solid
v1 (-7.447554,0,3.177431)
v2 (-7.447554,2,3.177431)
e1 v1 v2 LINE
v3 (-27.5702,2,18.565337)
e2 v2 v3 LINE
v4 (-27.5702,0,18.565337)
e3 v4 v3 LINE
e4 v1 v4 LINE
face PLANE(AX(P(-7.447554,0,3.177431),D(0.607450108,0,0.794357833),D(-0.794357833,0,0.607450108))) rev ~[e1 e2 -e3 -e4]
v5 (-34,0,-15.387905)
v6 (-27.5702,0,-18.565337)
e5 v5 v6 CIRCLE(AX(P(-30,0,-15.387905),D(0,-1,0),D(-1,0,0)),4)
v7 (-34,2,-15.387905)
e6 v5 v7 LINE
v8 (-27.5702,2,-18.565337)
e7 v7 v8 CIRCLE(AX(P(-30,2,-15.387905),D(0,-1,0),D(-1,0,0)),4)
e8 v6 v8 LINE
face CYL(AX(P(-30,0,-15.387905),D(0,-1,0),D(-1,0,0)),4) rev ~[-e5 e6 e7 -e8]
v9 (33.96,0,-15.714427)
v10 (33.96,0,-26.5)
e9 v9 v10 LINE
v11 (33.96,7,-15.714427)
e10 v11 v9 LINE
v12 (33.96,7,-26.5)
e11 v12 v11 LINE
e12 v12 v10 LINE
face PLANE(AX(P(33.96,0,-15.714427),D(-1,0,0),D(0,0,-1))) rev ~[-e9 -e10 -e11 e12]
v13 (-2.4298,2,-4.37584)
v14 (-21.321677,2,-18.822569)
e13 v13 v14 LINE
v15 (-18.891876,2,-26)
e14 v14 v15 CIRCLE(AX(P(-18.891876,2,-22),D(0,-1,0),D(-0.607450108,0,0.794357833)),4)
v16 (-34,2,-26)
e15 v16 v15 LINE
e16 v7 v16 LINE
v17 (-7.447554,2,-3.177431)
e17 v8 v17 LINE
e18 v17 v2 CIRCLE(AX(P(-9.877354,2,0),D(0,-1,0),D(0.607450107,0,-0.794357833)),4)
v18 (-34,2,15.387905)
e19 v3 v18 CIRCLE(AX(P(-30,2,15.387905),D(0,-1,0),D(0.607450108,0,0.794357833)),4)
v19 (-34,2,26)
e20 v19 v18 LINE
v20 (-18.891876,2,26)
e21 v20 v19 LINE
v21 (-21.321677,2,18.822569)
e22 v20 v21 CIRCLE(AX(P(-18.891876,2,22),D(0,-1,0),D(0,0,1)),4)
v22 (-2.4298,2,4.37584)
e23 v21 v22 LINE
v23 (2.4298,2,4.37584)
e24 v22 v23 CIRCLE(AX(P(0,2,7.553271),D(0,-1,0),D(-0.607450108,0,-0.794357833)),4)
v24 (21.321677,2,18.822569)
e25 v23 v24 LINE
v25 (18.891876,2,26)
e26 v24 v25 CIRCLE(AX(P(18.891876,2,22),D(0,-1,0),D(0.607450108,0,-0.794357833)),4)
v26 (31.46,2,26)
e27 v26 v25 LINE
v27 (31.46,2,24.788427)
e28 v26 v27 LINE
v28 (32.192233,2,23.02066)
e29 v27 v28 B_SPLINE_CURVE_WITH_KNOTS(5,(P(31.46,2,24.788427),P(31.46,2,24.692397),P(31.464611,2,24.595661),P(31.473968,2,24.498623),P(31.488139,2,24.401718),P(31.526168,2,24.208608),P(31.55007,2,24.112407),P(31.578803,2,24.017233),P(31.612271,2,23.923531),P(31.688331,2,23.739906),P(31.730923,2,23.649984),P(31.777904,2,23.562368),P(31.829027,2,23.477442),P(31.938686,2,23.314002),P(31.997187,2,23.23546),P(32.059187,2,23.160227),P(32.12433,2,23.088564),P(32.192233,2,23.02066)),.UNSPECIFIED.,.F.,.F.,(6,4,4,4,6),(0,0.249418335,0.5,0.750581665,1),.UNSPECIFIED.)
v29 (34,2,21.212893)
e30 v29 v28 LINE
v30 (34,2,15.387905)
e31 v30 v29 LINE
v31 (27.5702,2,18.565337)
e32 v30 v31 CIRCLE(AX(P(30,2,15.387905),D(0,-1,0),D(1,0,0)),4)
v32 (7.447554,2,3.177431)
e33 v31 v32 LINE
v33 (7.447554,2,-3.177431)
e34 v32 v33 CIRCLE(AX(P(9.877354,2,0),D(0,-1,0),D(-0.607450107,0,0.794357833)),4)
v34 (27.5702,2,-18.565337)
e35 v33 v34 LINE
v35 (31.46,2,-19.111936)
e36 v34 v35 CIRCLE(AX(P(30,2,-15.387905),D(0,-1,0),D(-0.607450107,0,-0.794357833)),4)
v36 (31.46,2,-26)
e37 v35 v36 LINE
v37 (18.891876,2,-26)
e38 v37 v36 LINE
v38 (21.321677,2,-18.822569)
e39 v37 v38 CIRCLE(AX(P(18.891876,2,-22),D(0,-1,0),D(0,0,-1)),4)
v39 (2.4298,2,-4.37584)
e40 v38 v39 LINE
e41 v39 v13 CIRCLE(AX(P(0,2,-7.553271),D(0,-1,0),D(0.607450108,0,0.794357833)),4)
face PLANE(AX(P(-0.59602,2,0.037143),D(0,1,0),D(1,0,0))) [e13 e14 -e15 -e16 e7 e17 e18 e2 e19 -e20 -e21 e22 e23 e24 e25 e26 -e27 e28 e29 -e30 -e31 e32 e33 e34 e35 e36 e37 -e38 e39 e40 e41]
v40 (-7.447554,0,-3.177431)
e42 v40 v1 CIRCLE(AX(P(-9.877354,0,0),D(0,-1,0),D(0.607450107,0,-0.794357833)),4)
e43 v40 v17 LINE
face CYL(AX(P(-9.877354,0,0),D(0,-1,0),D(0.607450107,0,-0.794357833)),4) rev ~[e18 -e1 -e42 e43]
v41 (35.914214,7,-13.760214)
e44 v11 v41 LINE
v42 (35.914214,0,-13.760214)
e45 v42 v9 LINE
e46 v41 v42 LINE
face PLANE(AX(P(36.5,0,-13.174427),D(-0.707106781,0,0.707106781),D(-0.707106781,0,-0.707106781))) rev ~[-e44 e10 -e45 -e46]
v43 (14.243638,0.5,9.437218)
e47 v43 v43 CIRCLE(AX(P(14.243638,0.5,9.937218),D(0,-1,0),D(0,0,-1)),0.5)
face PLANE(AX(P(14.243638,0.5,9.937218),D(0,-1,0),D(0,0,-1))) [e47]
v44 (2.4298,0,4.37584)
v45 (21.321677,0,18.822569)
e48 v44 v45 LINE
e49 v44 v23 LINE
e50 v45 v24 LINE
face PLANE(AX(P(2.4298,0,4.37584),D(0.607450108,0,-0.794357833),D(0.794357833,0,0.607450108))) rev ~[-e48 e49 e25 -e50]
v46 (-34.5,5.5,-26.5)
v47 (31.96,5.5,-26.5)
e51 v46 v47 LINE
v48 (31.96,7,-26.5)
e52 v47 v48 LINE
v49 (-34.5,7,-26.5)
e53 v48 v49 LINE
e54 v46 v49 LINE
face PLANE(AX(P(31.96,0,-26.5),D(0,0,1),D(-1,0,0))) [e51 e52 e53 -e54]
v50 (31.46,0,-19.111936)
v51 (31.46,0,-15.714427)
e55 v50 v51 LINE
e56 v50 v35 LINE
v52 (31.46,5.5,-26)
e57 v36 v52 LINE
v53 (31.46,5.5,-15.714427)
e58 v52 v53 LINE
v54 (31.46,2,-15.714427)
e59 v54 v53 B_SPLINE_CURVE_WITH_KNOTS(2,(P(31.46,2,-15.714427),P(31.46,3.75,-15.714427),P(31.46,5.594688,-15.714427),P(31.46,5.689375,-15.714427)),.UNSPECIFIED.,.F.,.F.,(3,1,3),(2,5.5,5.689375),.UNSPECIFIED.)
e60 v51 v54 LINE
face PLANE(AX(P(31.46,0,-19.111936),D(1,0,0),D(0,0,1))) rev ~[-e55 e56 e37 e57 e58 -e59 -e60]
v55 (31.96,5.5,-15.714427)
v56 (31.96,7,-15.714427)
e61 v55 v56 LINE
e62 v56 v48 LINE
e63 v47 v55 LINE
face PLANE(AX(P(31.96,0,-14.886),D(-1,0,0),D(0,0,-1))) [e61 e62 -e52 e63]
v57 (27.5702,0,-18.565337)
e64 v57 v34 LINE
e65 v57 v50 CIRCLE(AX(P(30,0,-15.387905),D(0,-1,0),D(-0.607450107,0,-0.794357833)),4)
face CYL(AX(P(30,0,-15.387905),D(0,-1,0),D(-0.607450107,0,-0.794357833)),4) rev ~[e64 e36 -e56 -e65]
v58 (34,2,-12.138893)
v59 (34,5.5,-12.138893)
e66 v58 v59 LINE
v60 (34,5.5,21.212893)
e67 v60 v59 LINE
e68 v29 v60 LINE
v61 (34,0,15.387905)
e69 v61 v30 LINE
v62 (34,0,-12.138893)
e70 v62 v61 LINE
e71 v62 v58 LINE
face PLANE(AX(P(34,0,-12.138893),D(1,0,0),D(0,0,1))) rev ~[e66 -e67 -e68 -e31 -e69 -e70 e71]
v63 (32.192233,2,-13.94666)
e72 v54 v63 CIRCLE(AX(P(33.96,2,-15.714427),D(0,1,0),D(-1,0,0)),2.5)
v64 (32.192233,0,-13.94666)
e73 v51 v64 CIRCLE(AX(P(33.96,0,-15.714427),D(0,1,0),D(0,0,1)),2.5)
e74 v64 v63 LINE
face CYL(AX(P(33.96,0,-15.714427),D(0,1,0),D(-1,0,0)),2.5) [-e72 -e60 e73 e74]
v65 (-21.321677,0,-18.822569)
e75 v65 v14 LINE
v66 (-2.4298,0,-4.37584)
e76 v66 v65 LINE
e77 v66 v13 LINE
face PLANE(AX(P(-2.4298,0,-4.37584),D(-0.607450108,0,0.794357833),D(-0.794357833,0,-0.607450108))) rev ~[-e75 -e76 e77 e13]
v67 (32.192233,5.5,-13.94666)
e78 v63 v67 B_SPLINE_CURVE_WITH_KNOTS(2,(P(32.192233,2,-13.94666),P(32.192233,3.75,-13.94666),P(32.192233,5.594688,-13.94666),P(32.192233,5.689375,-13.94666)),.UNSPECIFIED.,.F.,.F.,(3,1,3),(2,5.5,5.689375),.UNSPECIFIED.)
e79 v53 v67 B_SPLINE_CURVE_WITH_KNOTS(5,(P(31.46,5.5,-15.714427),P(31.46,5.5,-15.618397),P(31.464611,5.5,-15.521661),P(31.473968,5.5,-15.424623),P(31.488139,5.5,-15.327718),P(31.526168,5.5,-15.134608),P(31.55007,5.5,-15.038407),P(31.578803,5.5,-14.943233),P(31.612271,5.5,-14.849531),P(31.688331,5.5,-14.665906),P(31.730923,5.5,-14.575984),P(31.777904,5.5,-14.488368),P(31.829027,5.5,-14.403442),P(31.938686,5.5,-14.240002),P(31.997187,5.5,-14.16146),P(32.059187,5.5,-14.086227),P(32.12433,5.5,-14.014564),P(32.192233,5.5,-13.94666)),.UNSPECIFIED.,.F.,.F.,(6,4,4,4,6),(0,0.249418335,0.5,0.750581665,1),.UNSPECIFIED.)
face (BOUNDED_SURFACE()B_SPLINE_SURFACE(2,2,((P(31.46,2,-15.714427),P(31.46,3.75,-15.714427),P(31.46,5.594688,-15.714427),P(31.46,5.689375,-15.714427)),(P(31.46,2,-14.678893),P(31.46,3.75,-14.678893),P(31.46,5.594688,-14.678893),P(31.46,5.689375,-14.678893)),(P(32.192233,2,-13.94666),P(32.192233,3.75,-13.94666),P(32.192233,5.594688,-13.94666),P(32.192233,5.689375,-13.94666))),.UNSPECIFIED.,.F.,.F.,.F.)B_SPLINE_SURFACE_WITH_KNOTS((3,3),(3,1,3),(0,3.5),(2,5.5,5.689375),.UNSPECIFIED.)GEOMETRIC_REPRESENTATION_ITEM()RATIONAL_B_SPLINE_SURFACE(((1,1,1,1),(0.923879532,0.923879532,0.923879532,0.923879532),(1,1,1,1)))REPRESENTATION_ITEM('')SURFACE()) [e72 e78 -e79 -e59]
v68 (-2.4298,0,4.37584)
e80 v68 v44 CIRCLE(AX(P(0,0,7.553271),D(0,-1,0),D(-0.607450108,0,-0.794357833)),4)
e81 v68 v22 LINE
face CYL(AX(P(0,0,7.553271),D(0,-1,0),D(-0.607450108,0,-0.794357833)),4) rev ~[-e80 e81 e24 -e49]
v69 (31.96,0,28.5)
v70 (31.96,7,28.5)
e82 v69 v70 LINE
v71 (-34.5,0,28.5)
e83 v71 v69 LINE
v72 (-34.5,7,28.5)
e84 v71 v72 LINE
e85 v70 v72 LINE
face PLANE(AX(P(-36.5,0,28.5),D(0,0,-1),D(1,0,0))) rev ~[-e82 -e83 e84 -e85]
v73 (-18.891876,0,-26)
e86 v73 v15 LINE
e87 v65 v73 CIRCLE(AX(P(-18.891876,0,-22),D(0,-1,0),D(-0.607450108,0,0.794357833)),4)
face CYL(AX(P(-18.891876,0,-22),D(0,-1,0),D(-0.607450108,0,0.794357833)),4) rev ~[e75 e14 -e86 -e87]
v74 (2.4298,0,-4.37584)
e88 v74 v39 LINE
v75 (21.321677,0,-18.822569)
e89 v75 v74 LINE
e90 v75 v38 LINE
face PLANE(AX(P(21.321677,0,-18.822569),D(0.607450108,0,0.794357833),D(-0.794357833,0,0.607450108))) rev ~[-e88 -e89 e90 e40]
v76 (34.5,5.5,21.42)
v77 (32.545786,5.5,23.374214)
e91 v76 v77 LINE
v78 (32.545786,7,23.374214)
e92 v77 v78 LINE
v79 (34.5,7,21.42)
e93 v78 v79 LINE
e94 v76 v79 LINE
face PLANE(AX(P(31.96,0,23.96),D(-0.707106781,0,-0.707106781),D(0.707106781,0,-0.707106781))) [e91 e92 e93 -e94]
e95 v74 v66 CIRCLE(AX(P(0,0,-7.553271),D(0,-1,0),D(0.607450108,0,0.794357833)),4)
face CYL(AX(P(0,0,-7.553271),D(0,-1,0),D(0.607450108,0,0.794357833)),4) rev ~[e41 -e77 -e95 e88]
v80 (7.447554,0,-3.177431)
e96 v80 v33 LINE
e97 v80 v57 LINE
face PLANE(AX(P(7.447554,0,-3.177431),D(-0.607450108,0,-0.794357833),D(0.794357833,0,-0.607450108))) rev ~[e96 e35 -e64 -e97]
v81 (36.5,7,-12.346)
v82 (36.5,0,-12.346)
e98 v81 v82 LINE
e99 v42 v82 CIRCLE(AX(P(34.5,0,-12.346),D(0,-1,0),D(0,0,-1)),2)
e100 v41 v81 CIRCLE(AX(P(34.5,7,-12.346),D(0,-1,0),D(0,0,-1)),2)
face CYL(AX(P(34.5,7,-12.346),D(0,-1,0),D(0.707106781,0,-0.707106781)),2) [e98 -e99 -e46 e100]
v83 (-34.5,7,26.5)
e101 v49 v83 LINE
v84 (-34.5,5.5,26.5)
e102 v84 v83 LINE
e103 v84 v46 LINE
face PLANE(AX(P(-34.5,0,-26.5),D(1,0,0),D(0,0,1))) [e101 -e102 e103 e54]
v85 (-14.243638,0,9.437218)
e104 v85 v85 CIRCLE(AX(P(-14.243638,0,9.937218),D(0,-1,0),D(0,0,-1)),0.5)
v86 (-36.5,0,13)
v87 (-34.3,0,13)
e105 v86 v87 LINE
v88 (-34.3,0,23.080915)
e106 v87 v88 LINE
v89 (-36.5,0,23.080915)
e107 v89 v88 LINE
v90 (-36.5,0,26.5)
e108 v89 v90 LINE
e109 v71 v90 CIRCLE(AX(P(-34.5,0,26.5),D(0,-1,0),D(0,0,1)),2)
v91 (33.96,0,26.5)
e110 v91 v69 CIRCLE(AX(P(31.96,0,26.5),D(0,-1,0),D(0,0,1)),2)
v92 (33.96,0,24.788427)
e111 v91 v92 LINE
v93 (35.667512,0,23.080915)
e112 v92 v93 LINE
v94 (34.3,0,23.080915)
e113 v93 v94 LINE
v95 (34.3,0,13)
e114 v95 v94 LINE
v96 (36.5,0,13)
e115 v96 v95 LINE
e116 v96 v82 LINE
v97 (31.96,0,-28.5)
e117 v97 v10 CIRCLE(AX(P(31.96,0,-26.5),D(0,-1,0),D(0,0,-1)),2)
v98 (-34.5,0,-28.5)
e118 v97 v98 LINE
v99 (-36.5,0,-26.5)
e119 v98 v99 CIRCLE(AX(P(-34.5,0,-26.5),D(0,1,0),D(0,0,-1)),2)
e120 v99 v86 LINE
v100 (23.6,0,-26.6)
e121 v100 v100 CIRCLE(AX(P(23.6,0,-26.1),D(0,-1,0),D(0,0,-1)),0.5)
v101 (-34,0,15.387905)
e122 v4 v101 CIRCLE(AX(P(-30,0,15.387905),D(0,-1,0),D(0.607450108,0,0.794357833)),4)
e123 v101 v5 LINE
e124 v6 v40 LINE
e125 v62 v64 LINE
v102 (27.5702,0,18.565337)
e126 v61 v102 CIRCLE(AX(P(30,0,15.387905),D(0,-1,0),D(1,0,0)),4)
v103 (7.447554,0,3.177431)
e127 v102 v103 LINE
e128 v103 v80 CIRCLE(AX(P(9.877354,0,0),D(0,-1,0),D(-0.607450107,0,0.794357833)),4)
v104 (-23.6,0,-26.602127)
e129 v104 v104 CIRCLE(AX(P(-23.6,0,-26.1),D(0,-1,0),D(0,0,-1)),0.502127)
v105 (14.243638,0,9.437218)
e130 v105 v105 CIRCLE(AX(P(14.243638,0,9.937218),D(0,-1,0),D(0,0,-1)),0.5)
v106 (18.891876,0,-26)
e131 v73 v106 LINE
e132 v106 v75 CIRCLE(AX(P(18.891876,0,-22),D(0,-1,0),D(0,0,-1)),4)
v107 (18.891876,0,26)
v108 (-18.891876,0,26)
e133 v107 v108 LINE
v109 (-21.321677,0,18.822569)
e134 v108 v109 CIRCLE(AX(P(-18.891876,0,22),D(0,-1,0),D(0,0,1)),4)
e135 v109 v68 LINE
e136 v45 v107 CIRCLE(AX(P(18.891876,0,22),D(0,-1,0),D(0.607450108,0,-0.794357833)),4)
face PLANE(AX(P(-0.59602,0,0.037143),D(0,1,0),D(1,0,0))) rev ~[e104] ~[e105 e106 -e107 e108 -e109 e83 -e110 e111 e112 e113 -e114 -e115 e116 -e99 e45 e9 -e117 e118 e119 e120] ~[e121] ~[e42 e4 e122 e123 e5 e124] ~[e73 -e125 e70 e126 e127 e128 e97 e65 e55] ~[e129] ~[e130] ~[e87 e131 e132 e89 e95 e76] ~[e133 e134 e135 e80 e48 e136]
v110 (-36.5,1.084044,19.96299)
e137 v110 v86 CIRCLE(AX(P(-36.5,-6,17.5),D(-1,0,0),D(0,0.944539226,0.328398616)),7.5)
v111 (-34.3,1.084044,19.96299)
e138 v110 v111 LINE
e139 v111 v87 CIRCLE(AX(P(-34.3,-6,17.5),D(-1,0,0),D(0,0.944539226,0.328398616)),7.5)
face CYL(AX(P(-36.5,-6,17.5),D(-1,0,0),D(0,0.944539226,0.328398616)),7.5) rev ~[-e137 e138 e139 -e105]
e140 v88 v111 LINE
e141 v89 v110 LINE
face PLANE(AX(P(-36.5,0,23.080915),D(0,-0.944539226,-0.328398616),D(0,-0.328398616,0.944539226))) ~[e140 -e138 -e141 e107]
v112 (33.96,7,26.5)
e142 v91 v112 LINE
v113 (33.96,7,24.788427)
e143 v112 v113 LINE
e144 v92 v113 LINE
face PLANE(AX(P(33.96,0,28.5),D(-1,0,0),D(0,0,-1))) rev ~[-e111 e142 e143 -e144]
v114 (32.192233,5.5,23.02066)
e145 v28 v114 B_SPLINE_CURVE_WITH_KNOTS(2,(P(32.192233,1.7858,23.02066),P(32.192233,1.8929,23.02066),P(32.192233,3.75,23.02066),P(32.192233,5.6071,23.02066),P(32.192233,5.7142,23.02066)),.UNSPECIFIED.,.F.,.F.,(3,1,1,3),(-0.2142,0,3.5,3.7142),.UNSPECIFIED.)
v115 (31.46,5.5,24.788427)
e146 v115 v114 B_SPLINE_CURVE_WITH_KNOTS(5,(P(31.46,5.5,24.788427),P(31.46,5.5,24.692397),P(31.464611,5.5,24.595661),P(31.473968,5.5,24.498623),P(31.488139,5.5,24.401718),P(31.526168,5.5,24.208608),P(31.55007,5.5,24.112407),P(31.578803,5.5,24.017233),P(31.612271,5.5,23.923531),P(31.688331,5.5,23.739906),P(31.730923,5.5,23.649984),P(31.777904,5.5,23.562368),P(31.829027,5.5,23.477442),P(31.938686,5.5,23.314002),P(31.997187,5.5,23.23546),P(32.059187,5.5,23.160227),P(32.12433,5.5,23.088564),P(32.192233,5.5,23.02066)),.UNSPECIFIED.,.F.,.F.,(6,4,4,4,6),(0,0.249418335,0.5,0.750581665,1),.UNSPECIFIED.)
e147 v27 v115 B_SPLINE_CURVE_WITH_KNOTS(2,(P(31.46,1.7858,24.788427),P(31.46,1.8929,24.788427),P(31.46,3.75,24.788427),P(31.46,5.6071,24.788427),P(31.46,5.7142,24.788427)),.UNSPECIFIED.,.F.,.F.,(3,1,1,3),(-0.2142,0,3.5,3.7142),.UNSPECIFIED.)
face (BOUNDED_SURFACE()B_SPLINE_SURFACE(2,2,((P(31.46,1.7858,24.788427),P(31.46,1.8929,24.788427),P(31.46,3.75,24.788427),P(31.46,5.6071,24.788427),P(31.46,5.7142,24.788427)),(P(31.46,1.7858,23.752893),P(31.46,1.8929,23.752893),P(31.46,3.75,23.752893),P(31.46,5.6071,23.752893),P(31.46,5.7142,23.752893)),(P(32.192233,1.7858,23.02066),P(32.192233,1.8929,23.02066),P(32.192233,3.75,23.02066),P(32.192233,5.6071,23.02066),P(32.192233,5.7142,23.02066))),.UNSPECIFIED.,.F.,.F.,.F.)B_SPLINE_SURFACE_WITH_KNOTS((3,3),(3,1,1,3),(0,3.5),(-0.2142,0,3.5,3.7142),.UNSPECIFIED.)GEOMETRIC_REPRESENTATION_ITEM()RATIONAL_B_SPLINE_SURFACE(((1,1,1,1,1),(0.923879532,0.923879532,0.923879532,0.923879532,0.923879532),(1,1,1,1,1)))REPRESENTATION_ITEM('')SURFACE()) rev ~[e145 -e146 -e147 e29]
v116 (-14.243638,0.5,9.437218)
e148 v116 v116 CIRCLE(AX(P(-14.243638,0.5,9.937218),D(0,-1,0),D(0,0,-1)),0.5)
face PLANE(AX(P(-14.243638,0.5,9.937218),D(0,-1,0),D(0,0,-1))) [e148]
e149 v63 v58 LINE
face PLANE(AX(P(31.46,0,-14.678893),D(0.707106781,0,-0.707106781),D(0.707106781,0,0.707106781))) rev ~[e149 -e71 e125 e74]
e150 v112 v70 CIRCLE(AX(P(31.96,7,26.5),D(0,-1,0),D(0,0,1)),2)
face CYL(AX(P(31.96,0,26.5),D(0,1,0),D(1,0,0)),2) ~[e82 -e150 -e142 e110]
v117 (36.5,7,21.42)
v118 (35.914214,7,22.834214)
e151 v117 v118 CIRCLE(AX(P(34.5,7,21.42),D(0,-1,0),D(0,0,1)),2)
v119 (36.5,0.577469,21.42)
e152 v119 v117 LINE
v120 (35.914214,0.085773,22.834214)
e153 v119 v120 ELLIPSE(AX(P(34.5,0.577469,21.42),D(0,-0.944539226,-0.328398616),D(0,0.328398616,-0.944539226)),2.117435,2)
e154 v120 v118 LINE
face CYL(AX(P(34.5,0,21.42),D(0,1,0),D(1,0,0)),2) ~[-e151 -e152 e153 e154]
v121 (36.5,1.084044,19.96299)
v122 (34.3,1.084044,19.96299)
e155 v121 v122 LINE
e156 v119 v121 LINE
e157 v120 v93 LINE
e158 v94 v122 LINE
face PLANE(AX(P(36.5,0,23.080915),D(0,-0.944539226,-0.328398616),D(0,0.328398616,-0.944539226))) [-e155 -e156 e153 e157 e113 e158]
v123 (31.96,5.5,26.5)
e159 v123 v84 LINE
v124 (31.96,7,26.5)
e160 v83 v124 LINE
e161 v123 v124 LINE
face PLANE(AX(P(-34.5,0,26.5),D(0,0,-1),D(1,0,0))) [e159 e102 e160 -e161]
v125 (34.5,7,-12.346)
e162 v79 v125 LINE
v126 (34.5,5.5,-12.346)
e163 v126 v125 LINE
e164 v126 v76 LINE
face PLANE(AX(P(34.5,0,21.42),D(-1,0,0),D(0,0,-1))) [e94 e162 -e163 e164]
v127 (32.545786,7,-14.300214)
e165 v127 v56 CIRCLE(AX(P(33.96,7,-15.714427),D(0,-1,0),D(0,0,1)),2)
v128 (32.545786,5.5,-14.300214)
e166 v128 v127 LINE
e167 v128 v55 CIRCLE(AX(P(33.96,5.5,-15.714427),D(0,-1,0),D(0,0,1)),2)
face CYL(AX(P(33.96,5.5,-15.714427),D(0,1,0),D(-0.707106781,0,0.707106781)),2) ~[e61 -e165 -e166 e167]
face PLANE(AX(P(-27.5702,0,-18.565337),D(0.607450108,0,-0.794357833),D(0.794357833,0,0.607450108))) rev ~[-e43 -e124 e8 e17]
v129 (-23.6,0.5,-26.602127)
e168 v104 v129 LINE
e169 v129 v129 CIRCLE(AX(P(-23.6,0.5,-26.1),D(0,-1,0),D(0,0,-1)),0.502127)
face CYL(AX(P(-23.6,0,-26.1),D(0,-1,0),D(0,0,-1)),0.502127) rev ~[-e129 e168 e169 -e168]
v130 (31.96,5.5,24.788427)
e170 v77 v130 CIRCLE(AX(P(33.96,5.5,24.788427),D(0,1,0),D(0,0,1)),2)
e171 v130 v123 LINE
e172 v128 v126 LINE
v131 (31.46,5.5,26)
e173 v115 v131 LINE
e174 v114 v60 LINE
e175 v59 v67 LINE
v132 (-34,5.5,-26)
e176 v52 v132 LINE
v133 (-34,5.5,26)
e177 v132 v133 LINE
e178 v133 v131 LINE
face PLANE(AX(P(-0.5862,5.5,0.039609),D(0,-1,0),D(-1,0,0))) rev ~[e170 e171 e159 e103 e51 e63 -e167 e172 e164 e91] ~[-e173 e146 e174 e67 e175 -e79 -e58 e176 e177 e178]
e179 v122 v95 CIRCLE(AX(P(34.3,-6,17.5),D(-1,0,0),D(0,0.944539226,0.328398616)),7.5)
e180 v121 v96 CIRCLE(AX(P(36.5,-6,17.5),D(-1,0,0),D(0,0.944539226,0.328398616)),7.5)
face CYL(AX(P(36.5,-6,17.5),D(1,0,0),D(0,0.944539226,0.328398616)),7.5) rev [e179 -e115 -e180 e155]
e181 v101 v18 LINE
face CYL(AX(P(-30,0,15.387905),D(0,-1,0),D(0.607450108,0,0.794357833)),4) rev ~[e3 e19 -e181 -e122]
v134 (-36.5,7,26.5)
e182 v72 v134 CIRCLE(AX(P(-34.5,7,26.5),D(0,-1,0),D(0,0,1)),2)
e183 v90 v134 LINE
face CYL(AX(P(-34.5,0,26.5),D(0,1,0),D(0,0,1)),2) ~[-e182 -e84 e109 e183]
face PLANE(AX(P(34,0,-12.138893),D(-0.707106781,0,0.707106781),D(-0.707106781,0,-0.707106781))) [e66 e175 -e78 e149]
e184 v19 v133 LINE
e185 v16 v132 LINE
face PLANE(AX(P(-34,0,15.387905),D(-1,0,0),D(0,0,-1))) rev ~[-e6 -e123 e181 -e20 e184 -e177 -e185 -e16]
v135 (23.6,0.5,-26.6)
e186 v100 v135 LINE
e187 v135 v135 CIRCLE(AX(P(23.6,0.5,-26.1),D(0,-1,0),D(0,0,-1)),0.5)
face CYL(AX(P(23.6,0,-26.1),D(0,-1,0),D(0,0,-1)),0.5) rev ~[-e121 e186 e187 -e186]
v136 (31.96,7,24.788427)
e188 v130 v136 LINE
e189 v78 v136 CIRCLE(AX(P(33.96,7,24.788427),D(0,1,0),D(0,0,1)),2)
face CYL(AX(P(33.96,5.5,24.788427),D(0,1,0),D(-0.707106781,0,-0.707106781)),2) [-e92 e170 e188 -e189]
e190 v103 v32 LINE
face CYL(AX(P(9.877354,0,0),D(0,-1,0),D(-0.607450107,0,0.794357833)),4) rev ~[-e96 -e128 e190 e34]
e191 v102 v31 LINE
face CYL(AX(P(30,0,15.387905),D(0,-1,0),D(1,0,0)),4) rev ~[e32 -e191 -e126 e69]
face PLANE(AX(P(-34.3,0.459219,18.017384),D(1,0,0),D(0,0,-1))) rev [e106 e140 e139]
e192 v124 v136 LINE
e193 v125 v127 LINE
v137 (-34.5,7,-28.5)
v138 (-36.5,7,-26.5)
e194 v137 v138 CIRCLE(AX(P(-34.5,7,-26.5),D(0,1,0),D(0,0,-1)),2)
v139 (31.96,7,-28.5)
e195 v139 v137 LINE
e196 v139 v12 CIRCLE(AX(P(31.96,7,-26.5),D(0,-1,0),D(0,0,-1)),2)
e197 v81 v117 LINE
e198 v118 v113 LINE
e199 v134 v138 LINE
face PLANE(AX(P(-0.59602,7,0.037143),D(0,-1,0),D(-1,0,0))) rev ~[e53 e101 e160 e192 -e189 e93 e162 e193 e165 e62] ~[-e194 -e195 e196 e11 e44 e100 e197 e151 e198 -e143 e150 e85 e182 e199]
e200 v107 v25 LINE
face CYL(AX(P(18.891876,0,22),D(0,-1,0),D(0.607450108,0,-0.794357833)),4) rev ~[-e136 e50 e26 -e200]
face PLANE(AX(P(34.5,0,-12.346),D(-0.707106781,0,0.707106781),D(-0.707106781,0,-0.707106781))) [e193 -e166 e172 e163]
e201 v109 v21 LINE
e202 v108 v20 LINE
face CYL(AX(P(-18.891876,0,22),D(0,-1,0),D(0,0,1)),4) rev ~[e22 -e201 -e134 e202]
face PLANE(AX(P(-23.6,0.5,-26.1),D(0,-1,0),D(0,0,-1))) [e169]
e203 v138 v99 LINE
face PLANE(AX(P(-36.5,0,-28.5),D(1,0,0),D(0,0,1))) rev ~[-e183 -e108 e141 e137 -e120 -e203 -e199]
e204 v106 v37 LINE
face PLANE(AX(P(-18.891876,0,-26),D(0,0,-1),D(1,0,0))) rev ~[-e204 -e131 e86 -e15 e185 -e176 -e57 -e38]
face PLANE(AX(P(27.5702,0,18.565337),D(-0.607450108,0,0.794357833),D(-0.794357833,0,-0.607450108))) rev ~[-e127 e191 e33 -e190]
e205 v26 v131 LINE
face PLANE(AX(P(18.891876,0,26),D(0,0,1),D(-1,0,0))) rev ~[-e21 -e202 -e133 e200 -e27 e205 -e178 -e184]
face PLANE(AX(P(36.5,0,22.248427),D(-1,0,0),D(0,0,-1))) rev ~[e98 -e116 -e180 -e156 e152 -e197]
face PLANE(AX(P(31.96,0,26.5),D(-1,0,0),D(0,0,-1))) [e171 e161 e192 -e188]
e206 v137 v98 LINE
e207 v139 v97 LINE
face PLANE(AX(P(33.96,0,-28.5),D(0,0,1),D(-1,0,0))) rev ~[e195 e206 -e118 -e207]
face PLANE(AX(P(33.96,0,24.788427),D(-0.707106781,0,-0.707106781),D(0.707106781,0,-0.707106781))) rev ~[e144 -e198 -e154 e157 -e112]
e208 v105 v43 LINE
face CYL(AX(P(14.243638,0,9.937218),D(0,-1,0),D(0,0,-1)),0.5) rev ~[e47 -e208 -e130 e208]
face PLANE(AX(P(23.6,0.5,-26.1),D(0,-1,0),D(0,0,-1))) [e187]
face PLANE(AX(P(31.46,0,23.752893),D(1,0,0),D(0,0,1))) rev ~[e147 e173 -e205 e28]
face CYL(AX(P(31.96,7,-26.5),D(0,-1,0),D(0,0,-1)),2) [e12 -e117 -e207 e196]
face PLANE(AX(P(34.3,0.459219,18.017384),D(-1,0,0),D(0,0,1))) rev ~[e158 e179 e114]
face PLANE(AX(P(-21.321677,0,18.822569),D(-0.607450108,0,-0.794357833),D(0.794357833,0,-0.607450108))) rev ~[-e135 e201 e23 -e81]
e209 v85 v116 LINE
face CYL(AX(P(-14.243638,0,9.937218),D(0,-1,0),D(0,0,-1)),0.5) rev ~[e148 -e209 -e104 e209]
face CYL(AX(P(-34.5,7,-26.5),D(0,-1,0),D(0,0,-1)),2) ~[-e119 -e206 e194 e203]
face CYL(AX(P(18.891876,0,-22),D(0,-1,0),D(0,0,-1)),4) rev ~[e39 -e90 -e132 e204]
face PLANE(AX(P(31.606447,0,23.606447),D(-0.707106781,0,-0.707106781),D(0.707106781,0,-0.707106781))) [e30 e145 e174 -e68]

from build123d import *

# Parameters (mm, degrees)
EXTRUDE_1_DEPTH     = 2
EXTRUDE_2_DEPTH     = 7
EXTRUDE_3_DEPTH     = 5.5
FILLET_1_R          = 2
FILLET_2_R          = 2.5
CUT_EXTRUDE_1_DEPTH = 2.2
SKETCH_7_R          = 0.5
SKETCH_7_R_2        = 0.502126781
CUT_EXTRUDE_2_DEPTH = 0.5


with BuildPart() as part:
    # Эскиз1 → Бобышка-Вытянуть1 (new body)
    with BuildSketch(Plane(origin=(0, 0, 0), x_dir=(1, 0, 0), z_dir=(0, 1, 0))):
        Polygon((-36.5, 28.5), (-36.5, -28.5), (33.96, -28.5), (33.96, -24.788427125), (36.5, -22.248427125), (36.5, 13.174427125), (33.96, 15.714427125), (33.96, 28.5), align=None)
        with BuildLine():
            Line((18.891876357, -26), (-18.891876357, -26))
            ThreePointArc((-18.891876357, -26), (-22.680657515, -23.282629072), (-21.321676788, -18.822568668))
            Line((-21.321676788, -18.822568668), (-2.42980043, -4.375839689))
            ThreePointArc((-2.42980043, -4.375839689), (0, -3.553271021), (2.42980043, -4.375839689))
            Line((2.42980043, -4.375839689), (21.321676788, -18.822568668))
            ThreePointArc((21.321676788, -18.822568668), (22.680657515, -23.282629072), (18.891876357, -26))
        make_face(mode=Mode.SUBTRACT)
        with BuildLine():
            Line((34, 12.138893219), (34, -15.38790545))
            ThreePointArc((34, -15.38790545), (31.772117135, -18.973934014), (27.57019957, -18.565336782))
            Line((27.57019957, -18.565336782), (7.447553982, -3.177431332))
            ThreePointArc((7.447553982, -3.177431332), (5.877354412, 0), (7.447553982, 3.177431332))
            Line((7.447553982, 3.177431332), (27.57019957, 18.565336782))
            ThreePointArc((27.57019957, 18.565336782), (29.443384545, 19.348988538), (31.46, 19.111935525))
            Line((31.46, 19.111935525), (31.46, 14.678893219))
            Line((31.46, 14.678893219), (34, 12.138893219))
        make_face(mode=Mode.SUBTRACT)
        with BuildLine():
            Line((-18.891876357, 26), (18.891876357, 26))
            ThreePointArc((18.891876357, 26), (22.680657515, 23.282629072), (21.321676788, 18.822568668))
            Line((21.321676788, 18.822568668), (2.42980043, 4.375839689))
            ThreePointArc((2.42980043, 4.375839689), (0, 3.553271021), (-2.42980043, 4.375839689))
            Line((-2.42980043, 4.375839689), (-21.321676788, 18.822568668))
            ThreePointArc((-21.321676788, 18.822568668), (-22.680657515, 23.282629072), (-18.891876357, 26))
        make_face(mode=Mode.SUBTRACT)
        with BuildLine():
            Line((-34, -15.38790545), (-34, 15.38790545))
            ThreePointArc((-34, 15.38790545), (-31.772117135, 18.973934014), (-27.57019957, 18.565336782))
            Line((-27.57019957, 18.565336782), (-7.447553982, 3.177431332))
            ThreePointArc((-7.447553982, 3.177431332), (-5.877354412, 0), (-7.447553982, -3.177431332))
            Line((-7.447553982, -3.177431332), (-27.57019957, -18.565336782))
            ThreePointArc((-27.57019957, -18.565336782), (-31.772117135, -18.973934014), (-34, -15.38790545))
        make_face(mode=Mode.SUBTRACT)
    extrude(amount=EXTRUDE_1_DEPTH)

    # Эскиз5 → Бобышка-Вытянуть2 (add)
    with BuildSketch(Plane(origin=(0, 0, 0), x_dir=(1, 0, 0), z_dir=(0, 1, 0))):
        Polygon((33.96, -26.5), (33.96, -28.5), (-36.5, -28.5), (-36.5, 28.5), (31.96, 28.5), (33.96, 28.5), (33.96, 15.714427125), (36.5, 13.174427125), (36.5, -22.248427125), (33.96, -24.788427125), align=None)
        Polygon((31.96, -23.96), (34.5, -21.42), (34.5, 12.346), (31.96, 14.886), (31.96, 26.5), (-34.5, 26.5), (-34.5, -26.5), (31.96, -26.5), align=None, mode=Mode.SUBTRACT)
    extrude(amount=EXTRUDE_2_DEPTH)

    # Эскиз6 → Бобышка-Вытянуть3 (add)
    with BuildSketch(Plane(origin=(0, 0, 0), x_dir=(1, 0, 0), z_dir=(0, 1, 0))):
        Polygon((31.96, -23.96), (31.96, -26.5), (-34.5, -26.5), (-34.5, 26.5), (31.96, 26.5), (31.96, 14.886), (34.5, 12.346), (34.5, -21.42), align=None)
        Polygon((31.46, 26), (-34, 26), (-34, -26), (31.46, -26), (31.46, -23.96), (31.46, -23.752893219), (31.606446609, -23.606446609), (34, -21.212893219), (34, 12.138893219), (31.606446609, 14.532446609), (31.46, 14.678893219), (31.46, 14.886), align=None, mode=Mode.SUBTRACT)
    extrude(amount=EXTRUDE_3_DEPTH)

    # Скругление1
    fillet_1_edges = [part.edges().sort_by_distance(p)[0] for p in [
        (31.96, 6.25, 23.96),
        (31.96, 6.25, -14.886),
        (33.96, 3.5, 28.5),
        (-36.5, 3.5, 28.5),
        (-36.5, 3.5, -28.5),
        (33.96, 3.5, -28.5),
        (36.5, 3.5, -13.174427125),
        (36.5, 3.5, 22.248427125),
    ]]
    fillet(fillet_1_edges, radius=FILLET_1_R)

    # Скругление2
    fillet_2_edges = [part.edges().sort_by_distance(p)[0] for p in [
        (31.46, 3.75, 23.752893219),
        (31.46, 2.75, -14.678893219),
    ]]
    fillet(fillet_2_edges, radius=FILLET_2_R)

    # Эскиз4 → Вырез-Вытянуть1 (cut)
    with BuildSketch(Plane(origin=(36.5, 0, 0), x_dir=(0, 0, -1), z_dir=(1, 0, 0))):
        with BuildLine():
            Line((-23.080914643, 0), (-19.962989622, 1.084044193))
            ThreePointArc((-19.962989622, 1.084044193), (-16.346249259, 1.410725958), (-13, 0))
            Line((-13, 0), (-23.080914643, 0))
        make_face()
    cut_extrude_1 = extrude(amount=-CUT_EXTRUDE_1_DEPTH, mode=Mode.SUBTRACT)

    # Зеркальное отражение1: Вырез-Вытянуть1 across plane
    add(cut_extrude_1.mirror(Plane(origin=(0, 0, 0), x_dir=(0, 0, 1), z_dir=(1, 0, 0))), mode=Mode.SUBTRACT)

    # Эскиз7 → Вырез-Вытянуть2 (cut)
    with BuildSketch(Plane.XZ):
        with Locations(Location((14.24363767, 9.937218253, 0), (0, 0, 270))):
            Circle(SKETCH_7_R)
        with Locations(Location((23.6, -26.1, 0), (0, 0, 270))):
            Circle(SKETCH_7_R)
        with Locations(Location((-14.24363767, 9.937218253, 0), (0, 0, 270))):
            Circle(SKETCH_7_R)
        with Locations(Location((-23.6, -26.1, 0), (0, 0, 270))):
            Circle(SKETCH_7_R_2)
    extrude(amount=-CUT_EXTRUDE_2_DEPTH, mode=Mode.SUBTRACT)


solid = part.part
